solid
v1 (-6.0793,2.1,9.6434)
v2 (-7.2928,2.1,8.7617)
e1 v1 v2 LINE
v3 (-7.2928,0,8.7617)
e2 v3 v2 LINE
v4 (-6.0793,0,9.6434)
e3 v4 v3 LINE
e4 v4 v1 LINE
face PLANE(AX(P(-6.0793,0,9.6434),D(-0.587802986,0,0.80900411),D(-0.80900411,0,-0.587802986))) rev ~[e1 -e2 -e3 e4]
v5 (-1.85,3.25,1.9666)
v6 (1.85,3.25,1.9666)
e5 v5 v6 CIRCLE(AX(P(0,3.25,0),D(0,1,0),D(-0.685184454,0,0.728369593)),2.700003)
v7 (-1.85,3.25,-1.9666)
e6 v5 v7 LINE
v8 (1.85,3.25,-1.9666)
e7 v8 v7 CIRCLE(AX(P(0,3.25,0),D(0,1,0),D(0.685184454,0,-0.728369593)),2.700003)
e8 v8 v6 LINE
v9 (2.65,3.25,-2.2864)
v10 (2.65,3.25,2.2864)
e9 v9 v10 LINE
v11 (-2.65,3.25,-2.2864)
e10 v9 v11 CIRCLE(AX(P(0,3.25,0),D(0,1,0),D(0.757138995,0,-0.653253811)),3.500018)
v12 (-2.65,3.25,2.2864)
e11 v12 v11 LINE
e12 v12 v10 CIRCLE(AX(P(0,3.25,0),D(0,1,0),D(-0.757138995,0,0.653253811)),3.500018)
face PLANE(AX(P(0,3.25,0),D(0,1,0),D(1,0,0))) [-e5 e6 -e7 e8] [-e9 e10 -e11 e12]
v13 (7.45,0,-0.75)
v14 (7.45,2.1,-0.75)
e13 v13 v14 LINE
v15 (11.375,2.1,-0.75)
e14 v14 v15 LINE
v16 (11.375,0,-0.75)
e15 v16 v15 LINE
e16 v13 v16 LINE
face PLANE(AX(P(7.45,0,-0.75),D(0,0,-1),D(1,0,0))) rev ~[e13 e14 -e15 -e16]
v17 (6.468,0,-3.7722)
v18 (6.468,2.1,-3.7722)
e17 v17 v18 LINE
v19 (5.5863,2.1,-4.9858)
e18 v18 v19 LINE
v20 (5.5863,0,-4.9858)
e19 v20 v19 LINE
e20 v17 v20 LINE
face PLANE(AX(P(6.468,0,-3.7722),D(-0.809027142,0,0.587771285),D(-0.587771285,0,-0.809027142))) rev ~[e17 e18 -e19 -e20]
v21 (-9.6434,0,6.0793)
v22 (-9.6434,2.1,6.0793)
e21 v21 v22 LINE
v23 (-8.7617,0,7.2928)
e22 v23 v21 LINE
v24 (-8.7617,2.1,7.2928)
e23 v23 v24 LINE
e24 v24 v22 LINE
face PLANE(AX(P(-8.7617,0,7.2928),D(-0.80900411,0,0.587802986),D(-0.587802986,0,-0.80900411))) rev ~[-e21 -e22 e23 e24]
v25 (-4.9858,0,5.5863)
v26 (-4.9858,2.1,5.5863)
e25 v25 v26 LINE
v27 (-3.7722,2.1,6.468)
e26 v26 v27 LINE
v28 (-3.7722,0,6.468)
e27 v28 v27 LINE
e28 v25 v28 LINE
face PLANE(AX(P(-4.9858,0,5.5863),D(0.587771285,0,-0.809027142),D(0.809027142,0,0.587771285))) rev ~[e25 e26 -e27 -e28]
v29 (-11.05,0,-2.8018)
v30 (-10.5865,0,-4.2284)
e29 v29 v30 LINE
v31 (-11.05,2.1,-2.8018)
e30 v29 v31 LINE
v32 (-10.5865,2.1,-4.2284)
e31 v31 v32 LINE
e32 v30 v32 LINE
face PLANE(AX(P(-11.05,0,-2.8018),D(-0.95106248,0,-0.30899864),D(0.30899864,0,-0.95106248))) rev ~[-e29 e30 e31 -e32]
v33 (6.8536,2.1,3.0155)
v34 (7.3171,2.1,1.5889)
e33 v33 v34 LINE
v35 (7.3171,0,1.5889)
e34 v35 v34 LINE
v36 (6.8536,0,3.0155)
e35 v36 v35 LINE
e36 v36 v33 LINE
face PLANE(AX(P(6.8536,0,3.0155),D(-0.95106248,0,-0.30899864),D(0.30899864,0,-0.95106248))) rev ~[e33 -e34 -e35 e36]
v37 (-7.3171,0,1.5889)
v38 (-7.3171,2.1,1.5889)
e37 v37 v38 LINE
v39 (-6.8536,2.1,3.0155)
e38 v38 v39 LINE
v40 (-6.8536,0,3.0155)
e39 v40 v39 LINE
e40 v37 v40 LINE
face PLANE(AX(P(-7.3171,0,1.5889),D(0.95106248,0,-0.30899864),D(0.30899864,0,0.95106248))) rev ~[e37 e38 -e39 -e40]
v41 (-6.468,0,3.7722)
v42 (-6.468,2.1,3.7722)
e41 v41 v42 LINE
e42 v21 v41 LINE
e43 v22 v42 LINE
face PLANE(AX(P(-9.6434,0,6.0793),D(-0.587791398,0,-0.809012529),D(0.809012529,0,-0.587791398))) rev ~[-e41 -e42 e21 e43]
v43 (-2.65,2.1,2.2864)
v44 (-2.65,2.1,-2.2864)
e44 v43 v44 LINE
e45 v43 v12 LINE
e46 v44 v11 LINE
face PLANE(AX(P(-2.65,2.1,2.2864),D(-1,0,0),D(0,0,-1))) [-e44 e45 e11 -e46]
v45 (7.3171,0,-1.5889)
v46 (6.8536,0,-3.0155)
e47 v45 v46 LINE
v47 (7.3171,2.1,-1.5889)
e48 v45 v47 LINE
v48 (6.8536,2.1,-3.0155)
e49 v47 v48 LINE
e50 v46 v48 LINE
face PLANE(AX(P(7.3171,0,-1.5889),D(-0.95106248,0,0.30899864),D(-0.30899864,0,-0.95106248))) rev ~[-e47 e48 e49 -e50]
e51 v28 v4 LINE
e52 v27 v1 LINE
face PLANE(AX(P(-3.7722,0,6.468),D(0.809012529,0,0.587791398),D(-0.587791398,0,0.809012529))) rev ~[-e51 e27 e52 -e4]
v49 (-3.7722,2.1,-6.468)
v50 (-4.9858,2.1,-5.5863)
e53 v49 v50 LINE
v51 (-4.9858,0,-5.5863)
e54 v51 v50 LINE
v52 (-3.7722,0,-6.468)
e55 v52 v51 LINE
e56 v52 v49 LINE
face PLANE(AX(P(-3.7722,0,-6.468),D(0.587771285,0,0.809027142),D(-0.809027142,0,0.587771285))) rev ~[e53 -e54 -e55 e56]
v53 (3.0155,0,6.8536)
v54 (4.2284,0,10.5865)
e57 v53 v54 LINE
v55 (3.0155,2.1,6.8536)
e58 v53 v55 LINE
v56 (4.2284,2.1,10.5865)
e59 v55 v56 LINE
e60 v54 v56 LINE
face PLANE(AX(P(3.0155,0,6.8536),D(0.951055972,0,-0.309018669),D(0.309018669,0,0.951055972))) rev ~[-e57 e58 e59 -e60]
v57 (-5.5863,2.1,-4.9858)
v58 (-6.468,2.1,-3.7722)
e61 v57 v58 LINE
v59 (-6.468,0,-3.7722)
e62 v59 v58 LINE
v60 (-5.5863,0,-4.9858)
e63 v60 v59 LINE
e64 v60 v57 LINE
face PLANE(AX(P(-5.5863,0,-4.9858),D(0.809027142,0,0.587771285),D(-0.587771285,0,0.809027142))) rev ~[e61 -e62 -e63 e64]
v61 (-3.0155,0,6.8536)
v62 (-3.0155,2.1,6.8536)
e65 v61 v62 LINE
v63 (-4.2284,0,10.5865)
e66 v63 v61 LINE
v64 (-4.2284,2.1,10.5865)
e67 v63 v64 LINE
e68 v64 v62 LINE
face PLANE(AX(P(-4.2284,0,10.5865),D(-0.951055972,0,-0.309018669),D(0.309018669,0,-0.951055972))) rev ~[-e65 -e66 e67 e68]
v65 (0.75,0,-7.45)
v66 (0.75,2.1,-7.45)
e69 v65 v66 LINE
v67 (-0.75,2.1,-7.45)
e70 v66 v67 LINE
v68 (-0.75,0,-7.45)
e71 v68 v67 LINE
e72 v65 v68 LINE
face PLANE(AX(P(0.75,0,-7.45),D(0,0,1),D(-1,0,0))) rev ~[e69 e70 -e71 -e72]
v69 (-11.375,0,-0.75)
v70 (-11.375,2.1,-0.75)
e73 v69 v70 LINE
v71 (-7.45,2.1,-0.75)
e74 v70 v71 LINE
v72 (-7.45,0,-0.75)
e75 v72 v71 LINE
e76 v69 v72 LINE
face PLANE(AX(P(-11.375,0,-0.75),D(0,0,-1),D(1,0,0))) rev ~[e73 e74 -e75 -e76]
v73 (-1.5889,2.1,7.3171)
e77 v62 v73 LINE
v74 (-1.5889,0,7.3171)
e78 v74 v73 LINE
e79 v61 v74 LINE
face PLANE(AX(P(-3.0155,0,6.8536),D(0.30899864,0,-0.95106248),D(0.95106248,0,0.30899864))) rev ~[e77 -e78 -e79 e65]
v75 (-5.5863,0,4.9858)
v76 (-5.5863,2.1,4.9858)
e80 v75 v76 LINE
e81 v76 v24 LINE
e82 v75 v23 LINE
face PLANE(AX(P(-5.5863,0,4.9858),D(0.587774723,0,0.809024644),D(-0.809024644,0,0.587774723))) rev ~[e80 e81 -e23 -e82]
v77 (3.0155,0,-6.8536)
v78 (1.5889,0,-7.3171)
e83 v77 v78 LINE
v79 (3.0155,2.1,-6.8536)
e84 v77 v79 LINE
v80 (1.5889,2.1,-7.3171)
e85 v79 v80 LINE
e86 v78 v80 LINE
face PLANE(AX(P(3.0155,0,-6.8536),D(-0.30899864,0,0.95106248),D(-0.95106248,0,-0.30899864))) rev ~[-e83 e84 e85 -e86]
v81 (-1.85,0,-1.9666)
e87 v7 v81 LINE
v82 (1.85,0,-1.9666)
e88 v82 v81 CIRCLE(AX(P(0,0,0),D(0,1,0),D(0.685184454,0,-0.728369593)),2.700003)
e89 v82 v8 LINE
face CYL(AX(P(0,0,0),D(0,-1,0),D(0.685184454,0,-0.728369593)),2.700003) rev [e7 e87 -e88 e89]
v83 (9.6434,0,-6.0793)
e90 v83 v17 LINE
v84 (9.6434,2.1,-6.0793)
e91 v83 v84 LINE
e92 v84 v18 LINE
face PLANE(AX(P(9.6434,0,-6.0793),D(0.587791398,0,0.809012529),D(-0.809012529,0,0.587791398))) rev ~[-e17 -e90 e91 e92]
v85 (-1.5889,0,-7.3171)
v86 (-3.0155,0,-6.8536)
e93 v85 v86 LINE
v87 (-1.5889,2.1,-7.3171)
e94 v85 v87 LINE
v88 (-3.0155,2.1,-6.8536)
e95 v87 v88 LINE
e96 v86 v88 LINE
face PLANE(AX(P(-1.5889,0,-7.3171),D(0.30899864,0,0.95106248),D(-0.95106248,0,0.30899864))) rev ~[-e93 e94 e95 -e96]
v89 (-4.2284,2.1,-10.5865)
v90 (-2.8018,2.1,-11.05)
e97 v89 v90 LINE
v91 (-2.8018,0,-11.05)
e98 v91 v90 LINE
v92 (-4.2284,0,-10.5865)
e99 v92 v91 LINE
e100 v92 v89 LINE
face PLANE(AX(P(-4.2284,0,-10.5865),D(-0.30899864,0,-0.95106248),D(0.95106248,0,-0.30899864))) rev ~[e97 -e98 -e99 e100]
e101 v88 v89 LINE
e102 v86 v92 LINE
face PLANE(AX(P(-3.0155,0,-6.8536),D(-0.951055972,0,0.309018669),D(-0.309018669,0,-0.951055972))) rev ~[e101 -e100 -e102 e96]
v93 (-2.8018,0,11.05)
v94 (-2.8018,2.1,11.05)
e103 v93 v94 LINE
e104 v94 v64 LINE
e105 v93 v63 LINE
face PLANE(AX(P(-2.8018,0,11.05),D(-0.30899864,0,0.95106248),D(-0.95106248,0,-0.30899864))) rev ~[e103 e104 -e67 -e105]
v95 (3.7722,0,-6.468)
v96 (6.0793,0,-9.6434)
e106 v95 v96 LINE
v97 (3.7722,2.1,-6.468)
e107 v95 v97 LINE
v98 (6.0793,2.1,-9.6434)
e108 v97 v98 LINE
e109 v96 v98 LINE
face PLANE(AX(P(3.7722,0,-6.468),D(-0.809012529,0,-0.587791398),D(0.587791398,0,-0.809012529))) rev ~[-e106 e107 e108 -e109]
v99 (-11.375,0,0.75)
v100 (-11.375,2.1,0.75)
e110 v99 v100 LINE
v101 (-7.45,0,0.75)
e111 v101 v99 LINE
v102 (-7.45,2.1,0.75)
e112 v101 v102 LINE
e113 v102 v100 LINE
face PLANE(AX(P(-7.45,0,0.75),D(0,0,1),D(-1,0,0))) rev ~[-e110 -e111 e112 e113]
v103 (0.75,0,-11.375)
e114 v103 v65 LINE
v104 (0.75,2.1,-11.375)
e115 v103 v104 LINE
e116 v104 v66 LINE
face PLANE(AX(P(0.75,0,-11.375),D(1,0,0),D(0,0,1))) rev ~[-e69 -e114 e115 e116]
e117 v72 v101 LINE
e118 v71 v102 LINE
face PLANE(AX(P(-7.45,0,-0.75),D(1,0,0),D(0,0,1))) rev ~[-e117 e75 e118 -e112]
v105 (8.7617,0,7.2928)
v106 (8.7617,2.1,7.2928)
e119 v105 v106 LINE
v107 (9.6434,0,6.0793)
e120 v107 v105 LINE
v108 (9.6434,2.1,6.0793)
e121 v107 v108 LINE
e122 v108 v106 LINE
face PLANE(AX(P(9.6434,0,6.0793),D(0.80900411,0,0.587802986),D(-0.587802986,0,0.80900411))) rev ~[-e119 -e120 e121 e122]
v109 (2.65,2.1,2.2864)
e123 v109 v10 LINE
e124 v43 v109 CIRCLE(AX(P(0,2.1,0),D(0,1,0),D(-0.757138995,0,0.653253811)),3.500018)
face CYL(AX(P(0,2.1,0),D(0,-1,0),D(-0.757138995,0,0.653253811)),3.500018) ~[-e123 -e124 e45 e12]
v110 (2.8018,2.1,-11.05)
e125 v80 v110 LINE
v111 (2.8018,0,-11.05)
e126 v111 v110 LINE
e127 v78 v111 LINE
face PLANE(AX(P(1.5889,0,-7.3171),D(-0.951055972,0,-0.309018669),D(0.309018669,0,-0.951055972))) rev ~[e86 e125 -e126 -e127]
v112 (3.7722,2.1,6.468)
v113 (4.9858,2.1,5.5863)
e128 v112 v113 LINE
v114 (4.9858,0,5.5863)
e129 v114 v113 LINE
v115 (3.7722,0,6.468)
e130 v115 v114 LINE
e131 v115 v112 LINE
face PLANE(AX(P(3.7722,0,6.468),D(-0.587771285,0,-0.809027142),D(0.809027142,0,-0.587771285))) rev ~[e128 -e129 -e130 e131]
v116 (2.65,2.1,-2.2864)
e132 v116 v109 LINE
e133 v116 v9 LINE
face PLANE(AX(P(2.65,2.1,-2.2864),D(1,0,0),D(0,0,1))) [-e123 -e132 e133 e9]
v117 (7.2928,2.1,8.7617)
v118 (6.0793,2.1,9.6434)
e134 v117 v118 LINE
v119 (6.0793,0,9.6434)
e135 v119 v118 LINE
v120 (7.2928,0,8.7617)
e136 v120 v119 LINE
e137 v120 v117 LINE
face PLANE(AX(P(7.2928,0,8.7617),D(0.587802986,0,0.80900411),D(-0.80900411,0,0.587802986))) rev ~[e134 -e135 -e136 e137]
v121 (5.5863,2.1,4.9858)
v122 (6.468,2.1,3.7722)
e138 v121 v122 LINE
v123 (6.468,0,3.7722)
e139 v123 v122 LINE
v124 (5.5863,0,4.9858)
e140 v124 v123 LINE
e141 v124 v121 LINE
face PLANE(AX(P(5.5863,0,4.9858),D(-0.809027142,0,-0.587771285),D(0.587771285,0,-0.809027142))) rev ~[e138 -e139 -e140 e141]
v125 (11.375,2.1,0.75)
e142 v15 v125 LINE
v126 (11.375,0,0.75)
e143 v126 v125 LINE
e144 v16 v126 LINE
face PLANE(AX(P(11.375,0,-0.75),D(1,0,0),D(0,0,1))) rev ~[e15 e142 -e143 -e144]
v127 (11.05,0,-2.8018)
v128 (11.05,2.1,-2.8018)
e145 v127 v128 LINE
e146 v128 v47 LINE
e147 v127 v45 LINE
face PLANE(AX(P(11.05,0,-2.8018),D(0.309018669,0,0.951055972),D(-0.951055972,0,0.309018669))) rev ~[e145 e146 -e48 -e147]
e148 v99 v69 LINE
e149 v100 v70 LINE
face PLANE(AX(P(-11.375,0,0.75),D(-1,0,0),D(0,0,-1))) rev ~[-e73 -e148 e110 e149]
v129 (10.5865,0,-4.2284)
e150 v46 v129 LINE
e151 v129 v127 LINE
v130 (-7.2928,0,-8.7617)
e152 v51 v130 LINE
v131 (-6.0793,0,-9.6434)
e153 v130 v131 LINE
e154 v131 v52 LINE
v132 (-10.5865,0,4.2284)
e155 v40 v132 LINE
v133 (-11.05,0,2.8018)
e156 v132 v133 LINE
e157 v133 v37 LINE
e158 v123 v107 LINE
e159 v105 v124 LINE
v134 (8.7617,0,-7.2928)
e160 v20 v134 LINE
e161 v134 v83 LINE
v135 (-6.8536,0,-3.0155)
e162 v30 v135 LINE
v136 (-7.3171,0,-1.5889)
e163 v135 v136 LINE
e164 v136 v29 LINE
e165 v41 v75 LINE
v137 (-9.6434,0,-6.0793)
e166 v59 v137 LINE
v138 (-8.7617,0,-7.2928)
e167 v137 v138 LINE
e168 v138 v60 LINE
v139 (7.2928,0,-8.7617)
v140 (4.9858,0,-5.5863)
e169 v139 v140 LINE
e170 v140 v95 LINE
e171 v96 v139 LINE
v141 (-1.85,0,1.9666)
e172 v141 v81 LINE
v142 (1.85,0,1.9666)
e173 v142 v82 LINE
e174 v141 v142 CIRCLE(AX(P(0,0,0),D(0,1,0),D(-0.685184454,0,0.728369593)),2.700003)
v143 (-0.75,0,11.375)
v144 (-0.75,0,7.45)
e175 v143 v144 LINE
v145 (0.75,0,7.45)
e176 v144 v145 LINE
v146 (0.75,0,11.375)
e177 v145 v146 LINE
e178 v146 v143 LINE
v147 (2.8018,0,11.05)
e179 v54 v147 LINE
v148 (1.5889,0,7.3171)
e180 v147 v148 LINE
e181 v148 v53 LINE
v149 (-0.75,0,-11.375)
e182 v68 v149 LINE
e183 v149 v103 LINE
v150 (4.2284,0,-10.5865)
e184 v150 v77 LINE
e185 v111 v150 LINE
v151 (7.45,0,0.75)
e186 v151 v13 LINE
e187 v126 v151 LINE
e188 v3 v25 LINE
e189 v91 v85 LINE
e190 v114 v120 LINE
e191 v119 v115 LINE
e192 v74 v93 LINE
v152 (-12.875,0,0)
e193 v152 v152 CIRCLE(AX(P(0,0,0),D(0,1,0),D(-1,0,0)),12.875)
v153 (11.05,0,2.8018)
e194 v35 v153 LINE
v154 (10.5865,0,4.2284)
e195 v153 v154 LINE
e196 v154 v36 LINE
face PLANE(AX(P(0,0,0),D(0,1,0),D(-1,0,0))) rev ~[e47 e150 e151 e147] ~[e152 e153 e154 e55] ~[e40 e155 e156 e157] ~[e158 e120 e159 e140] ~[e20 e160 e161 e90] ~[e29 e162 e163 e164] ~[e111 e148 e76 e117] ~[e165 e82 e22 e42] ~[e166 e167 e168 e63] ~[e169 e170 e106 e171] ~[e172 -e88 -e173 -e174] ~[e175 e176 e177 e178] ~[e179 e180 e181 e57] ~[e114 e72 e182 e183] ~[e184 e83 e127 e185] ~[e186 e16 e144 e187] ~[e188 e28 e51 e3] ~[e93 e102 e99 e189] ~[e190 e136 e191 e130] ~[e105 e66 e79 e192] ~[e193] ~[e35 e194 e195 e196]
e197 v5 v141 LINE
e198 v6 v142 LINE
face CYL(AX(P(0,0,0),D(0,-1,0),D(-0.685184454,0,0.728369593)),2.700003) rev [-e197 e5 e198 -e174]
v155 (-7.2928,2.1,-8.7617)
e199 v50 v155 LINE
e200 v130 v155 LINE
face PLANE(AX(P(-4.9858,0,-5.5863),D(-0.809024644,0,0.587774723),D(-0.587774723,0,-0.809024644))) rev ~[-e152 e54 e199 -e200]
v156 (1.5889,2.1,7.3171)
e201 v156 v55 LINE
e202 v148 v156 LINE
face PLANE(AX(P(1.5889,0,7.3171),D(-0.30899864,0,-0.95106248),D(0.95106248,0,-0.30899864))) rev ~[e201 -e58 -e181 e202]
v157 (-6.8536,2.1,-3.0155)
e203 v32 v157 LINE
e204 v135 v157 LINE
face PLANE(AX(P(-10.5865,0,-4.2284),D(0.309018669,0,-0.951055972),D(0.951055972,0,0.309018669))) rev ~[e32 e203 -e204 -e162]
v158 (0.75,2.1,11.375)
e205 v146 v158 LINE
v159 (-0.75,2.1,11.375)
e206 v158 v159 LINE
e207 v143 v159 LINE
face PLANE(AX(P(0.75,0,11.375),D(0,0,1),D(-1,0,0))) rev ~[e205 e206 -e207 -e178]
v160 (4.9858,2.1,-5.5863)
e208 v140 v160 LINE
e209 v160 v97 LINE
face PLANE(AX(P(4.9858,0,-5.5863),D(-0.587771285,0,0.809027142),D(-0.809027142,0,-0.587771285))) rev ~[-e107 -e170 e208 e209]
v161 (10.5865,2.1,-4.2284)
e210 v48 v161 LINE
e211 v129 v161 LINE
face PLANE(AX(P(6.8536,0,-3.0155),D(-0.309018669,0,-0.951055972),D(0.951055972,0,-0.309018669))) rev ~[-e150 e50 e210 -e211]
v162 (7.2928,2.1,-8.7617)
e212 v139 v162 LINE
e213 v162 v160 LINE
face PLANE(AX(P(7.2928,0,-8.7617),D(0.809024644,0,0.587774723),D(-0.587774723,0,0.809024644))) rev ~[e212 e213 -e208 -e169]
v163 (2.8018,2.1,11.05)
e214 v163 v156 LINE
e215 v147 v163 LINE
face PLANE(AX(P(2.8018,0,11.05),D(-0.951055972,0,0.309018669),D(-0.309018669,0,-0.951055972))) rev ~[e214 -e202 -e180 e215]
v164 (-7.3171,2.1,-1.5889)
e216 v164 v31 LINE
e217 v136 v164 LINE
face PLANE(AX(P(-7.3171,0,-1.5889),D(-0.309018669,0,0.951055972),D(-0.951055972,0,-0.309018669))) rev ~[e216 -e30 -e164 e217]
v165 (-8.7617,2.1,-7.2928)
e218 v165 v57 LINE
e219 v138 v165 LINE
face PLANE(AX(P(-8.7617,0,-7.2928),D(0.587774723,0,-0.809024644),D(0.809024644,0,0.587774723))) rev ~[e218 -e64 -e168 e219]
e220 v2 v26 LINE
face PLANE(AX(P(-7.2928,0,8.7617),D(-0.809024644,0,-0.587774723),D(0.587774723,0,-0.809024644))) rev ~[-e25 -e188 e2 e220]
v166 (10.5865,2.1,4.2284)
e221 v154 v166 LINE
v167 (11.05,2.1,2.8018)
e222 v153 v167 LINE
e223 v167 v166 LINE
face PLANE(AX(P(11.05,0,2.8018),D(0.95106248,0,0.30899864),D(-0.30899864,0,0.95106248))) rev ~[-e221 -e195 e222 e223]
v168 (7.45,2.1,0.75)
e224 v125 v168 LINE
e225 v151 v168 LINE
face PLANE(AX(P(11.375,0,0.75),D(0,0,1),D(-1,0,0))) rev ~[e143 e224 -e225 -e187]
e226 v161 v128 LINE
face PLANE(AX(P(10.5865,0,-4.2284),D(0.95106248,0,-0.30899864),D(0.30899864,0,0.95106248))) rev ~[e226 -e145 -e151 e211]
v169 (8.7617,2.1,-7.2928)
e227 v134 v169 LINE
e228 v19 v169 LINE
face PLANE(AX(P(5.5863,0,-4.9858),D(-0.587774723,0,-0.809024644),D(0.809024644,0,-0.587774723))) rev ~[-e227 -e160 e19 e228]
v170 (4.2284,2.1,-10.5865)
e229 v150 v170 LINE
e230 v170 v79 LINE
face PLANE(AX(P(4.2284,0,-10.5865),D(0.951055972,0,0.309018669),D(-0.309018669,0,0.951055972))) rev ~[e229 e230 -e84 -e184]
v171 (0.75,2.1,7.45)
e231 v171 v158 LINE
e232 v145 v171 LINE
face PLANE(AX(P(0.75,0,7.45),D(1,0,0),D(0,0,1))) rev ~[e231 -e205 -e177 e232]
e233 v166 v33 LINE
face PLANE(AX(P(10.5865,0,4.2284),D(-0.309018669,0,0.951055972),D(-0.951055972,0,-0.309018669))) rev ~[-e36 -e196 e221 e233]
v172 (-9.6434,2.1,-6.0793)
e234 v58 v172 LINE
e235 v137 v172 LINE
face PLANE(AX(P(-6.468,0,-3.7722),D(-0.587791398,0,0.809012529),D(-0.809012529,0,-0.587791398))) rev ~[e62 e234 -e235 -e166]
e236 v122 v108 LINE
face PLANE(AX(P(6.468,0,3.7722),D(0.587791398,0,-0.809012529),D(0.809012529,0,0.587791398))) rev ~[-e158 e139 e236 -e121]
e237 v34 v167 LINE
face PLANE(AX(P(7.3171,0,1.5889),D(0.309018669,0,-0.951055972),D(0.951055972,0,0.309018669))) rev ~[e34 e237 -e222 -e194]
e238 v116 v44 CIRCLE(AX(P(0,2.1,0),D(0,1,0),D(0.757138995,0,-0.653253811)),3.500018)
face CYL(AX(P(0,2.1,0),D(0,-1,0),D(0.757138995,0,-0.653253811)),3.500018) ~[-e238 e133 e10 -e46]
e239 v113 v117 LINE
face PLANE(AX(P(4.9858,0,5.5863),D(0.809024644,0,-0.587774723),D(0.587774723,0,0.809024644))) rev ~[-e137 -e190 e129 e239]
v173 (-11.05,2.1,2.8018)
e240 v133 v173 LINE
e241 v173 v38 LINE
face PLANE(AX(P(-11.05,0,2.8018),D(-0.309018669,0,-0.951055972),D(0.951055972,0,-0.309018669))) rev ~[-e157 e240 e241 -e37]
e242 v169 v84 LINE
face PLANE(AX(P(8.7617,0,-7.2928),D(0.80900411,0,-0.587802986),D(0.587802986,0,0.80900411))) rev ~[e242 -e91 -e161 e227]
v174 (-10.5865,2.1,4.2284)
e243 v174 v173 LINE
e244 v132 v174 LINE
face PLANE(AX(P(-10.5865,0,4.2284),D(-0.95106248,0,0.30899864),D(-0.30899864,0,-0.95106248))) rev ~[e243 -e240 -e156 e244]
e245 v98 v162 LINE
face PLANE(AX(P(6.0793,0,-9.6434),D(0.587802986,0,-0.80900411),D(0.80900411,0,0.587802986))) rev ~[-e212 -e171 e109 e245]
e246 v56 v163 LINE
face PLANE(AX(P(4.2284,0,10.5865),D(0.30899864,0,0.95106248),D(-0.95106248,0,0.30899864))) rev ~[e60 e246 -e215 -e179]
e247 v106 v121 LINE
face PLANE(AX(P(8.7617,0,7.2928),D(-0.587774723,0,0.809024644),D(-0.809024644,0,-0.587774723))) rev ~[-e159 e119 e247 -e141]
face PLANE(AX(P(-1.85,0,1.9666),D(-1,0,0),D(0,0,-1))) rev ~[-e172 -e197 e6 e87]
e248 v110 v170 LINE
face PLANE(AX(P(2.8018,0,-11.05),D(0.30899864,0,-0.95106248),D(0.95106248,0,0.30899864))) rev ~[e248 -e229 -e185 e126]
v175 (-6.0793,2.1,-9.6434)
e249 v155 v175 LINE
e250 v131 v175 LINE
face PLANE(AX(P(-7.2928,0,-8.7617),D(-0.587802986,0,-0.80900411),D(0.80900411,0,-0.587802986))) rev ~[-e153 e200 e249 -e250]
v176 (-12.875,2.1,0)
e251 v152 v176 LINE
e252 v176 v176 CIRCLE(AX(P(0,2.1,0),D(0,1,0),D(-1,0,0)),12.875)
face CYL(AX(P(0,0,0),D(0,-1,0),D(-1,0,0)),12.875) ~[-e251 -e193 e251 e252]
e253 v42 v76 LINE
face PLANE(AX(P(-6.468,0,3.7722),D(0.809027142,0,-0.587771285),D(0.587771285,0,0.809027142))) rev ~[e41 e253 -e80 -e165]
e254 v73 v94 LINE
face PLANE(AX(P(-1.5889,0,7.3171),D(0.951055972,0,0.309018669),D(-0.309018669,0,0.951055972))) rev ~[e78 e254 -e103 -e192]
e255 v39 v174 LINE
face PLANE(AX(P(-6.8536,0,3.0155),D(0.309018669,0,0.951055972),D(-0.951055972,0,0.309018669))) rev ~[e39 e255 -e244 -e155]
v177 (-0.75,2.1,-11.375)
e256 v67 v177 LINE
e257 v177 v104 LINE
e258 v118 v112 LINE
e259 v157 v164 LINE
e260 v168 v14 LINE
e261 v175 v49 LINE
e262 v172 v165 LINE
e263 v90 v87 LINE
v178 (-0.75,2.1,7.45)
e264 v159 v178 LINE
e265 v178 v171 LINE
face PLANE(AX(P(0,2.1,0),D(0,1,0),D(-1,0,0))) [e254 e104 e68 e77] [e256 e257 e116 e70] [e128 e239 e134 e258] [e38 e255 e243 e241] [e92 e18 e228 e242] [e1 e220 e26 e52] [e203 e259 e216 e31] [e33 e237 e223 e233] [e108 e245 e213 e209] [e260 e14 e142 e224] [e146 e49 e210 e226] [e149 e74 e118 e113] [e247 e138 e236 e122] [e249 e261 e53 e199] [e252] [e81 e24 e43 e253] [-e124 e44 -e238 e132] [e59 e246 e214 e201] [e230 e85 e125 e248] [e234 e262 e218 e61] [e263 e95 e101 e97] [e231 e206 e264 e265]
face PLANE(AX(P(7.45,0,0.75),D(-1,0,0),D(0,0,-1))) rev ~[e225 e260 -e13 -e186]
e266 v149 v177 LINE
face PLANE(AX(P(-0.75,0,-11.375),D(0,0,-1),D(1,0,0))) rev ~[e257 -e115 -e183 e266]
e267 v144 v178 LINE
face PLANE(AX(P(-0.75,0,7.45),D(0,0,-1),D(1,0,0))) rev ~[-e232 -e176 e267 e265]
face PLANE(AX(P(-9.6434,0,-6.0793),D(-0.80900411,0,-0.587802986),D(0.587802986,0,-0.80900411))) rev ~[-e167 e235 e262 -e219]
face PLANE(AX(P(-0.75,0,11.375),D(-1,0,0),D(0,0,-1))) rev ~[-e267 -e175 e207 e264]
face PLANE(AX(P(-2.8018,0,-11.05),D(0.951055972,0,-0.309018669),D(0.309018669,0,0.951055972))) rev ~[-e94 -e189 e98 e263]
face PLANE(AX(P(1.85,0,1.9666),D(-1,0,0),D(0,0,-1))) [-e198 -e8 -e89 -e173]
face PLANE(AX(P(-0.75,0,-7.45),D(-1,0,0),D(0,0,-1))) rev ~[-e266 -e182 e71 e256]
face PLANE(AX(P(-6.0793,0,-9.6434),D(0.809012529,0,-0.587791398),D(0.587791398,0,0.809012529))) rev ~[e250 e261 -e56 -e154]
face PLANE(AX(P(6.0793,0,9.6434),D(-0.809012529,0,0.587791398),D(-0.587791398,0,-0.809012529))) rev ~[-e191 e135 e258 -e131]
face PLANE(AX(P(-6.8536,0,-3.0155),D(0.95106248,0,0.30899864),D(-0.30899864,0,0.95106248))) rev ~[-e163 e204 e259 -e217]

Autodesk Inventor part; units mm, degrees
ref_plane "YZ Plane" through (0, 0, 0) normal (1, 0, 0) x (0, 1, 0)
ref_plane "XZ Plane" through (0, 0, 0) normal (0, 1, 0) x (-1, 0, 0)
ref_plane "XY Plane" through (0, 0, 0) normal (0, 0, 1) x (1, 0, 0)
sketch "Sketch1" plane through (0, 0, 0) normal (0, 1, 0) x (-1, 0, 0)
  circle A0 centre (0, 0) radius 12.875
  arc A1 (-1.85, -1.9666) -> (1.85, -1.9666) centre (0, 0) ccw
  line L0 (1.85, 1.9666) -> (1.85, -1.9666)
  line L1 (-1.85, 1.9666) -> (-1.85, -1.9666)
  line L2 (7.45, 0.75) -> (11.375, 0.75)
  line L3 (11.375, 0.75) -> (11.375, -0.75)
  line L4 (11.375, -0.75) -> (7.45, -0.75)
  line L5 (7.45, -0.75) -> (7.45, 0.75)
  line L6 (0, 0) -> (11.375, 0) construction
  line L7 (11.05, 2.8018) -> (7.3171, 1.5889)
  line L8 (10.5865, 4.2284) -> (11.05, 2.8018)
  line L9 (6.8536, 3.0155) -> (10.5865, 4.2284)
  line L10 (7.3171, 1.5889) -> (6.8536, 3.0155)
  line L11 (9.6434, 6.0793) -> (6.468, 3.7722)
  line L12 (8.7617, 7.2928) -> (9.6434, 6.0793)
  line L13 (5.5863, 4.9858) -> (8.7617, 7.2928)
  line L14 (6.468, 3.7722) -> (5.5863, 4.9858)
  line L15 (7.2928, 8.7617) -> (4.9858, 5.5863)
  line L16 (6.0793, 9.6434) -> (7.2928, 8.7617)
  line L17 (3.7722, 6.468) -> (6.0793, 9.6434)
  line L18 (4.9858, 5.5863) -> (3.7722, 6.468)
  line L19 (4.2284, 10.5865) -> (3.0155, 6.8536)
  line L20 (2.8018, 11.05) -> (4.2284, 10.5865)
  line L21 (1.5889, 7.3171) -> (2.8018, 11.05)
  line L22 (3.0155, 6.8536) -> (1.5889, 7.3171)
  line L23 (0.75, 11.375) -> (0.75, 7.45)
  line L24 (-0.75, 11.375) -> (0.75, 11.375)
  line L25 (-0.75, 7.45) -> (-0.75, 11.375)
  line L26 (0.75, 7.45) -> (-0.75, 7.45)
  line L27 (-2.8018, 11.05) -> (-1.5889, 7.3171)
  line L28 (-4.2284, 10.5865) -> (-2.8018, 11.05)
  line L29 (-3.0155, 6.8536) -> (-4.2284, 10.5865)
  line L30 (-1.5889, 7.3171) -> (-3.0155, 6.8536)
  line L31 (-6.0793, 9.6434) -> (-3.7722, 6.468)
  line L32 (-7.2928, 8.7617) -> (-6.0793, 9.6434)
  line L33 (-4.9858, 5.5863) -> (-7.2928, 8.7617)
  line L34 (-3.7722, 6.468) -> (-4.9858, 5.5863)
  line L35 (-8.7617, 7.2928) -> (-5.5863, 4.9858)
  line L36 (-9.6434, 6.0793) -> (-8.7617, 7.2928)
  line L37 (-6.468, 3.7722) -> (-9.6434, 6.0793)
  line L38 (-5.5863, 4.9858) -> (-6.468, 3.7722)
  line L39 (-10.5865, 4.2284) -> (-6.8536, 3.0155)
  line L40 (-11.05, 2.8018) -> (-10.5865, 4.2284)
  line L41 (-7.3171, 1.5889) -> (-11.05, 2.8018)
  line L42 (-6.8536, 3.0155) -> (-7.3171, 1.5889)
  line L43 (-11.375, 0.75) -> (-7.45, 0.75)
  line L44 (-11.375, -0.75) -> (-11.375, 0.75)
  line L45 (-7.45, -0.75) -> (-11.375, -0.75)
  line L46 (-7.45, 0.75) -> (-7.45, -0.75)
  line L47 (-11.05, -2.8018) -> (-7.3171, -1.5889)
  line L48 (-10.5865, -4.2284) -> (-11.05, -2.8018)
  line L49 (-6.8536, -3.0155) -> (-10.5865, -4.2284)
  line L50 (-7.3171, -1.5889) -> (-6.8536, -3.0155)
  line L51 (-9.6434, -6.0793) -> (-6.468, -3.7722)
  line L52 (-8.7617, -7.2928) -> (-9.6434, -6.0793)
  line L53 (-5.5863, -4.9858) -> (-8.7617, -7.2928)
  line L54 (-6.468, -3.7722) -> (-5.5863, -4.9858)
  line L55 (-7.2928, -8.7617) -> (-4.9858, -5.5863)
  line L56 (-6.0793, -9.6434) -> (-7.2928, -8.7617)
  line L57 (-3.7722, -6.468) -> (-6.0793, -9.6434)
  line L58 (-4.9858, -5.5863) -> (-3.7722, -6.468)
  line L59 (-4.2284, -10.5865) -> (-3.0155, -6.8536)
  line L60 (-2.8018, -11.05) -> (-4.2284, -10.5865)
  line L61 (-1.5889, -7.3171) -> (-2.8018, -11.05)
  line L62 (-3.0155, -6.8536) -> (-1.5889, -7.3171)
  line L63 (-0.75, -11.375) -> (-0.75, -7.45)
  line L64 (0.75, -11.375) -> (-0.75, -11.375)
  line L65 (0.75, -7.45) -> (0.75, -11.375)
  line L66 (-0.75, -7.45) -> (0.75, -7.45)
  line L67 (2.8018, -11.05) -> (1.5889, -7.3171)
  line L68 (4.2284, -10.5865) -> (2.8018, -11.05)
  line L69 (3.0155, -6.8536) -> (4.2284, -10.5865)
  line L70 (1.5889, -7.3171) -> (3.0155, -6.8536)
  line L71 (6.0793, -9.6434) -> (3.7722, -6.468)
  line L72 (7.2928, -8.7617) -> (6.0793, -9.6434)
  line L73 (4.9858, -5.5863) -> (7.2928, -8.7617)
  line L74 (3.7722, -6.468) -> (4.9858, -5.5863)
  line L75 (8.7617, -7.2928) -> (5.5863, -4.9858)
  line L76 (9.6434, -6.0793) -> (8.7617, -7.2928)
  line L77 (6.468, -3.7722) -> (9.6434, -6.0793)
  line L78 (5.5863, -4.9858) -> (6.468, -3.7722)
  line L79 (10.5865, -4.2284) -> (6.8536, -3.0155)
  line L80 (11.05, -2.8018) -> (10.5865, -4.2284)
  line L81 (7.3171, -1.5889) -> (11.05, -2.8018)
  line L82 (6.8536, -3.0155) -> (7.3171, -1.5889)
  arc A2 (-1.85, 1.9666) -> (-1.85, -1.9666) centre (0, 0) ccw construction
  arc A3 (1.85, 1.9666) -> (-1.85, 1.9666) centre (0, 0) ccw
  arc A4 (1.85, -1.9666) -> (1.85, 1.9666) centre (0, 0) ccw construction
  point P0 (10.8183, 3.5151)
  point P1 (9.2026, 6.6861)
  point P2 (6.6861, 9.2026)
  point P3 (3.5151, 10.8183)
  point P4 (0, 11.375)
  point P5 (-3.5151, 10.8183)
  point P6 (-6.6861, 9.2026)
  point P7 (-9.2026, 6.6861)
  point P8 (-10.8183, 3.5151)
  point P9 (-11.375, 0)
  point P10 (-10.8183, -3.5151)
  point P11 (-9.2026, -6.6861)
  point P12 (-6.6861, -9.2026)
  point P13 (-3.5151, -10.8183)
  point P14 (0, -11.375)
  point P15 (3.5151, -10.8183)
  point P16 (6.6861, -9.2026)
  point P17 (9.2026, -6.6861)
  point P18 (10.8183, -3.5151)
  dimension "d0" = 25.75
  dimension "d1" = 5.4
  dimension "d3" = 3.7
  dimension "d4" = 4.75
  dimension "d5" = 1.5
  dimension "d6" = 1.5
  dimension "d9" = 360
extrude "Extrusion1" add sketch "Sketch1" along normal blind 2.1
sketch "Sketch2" plane through (0, 2.1, 0) normal (0, 1, 0) x (1, 0, 0)
  arc A0 (1.85, 1.9666) -> (-1.85, 1.9666) centre (0, 0) ccw projected
  line L0 (1.85, 1.9666) -> (1.85, -1.9666) projected
  arc A1 (-1.85, -1.9666) -> (1.85, -1.9666) centre (0, 0) ccw projected
  line L1 (-1.85, -1.9666) -> (-1.85, 1.9666) projected
  arc A2 (-2.65, -2.2864) -> (2.65, -2.2864) centre (0, 0) ccw
  arc A3 (2.65, 2.2864) -> (-2.65, 2.2864) centre (0, 0) ccw
  line L2 (-2.65, -2.2864) -> (-2.65, 2.2864)
  line L3 (2.65, 2.2864) -> (2.65, -2.2864)
  dimension "d13" = 0.8
  dimension "d14" = 0.8
  dimension "d15" = 0.8
extrude "Extrusion2" add sketch "Sketch2" along normal blind 1.15
properties part number "TT encoder disk"
